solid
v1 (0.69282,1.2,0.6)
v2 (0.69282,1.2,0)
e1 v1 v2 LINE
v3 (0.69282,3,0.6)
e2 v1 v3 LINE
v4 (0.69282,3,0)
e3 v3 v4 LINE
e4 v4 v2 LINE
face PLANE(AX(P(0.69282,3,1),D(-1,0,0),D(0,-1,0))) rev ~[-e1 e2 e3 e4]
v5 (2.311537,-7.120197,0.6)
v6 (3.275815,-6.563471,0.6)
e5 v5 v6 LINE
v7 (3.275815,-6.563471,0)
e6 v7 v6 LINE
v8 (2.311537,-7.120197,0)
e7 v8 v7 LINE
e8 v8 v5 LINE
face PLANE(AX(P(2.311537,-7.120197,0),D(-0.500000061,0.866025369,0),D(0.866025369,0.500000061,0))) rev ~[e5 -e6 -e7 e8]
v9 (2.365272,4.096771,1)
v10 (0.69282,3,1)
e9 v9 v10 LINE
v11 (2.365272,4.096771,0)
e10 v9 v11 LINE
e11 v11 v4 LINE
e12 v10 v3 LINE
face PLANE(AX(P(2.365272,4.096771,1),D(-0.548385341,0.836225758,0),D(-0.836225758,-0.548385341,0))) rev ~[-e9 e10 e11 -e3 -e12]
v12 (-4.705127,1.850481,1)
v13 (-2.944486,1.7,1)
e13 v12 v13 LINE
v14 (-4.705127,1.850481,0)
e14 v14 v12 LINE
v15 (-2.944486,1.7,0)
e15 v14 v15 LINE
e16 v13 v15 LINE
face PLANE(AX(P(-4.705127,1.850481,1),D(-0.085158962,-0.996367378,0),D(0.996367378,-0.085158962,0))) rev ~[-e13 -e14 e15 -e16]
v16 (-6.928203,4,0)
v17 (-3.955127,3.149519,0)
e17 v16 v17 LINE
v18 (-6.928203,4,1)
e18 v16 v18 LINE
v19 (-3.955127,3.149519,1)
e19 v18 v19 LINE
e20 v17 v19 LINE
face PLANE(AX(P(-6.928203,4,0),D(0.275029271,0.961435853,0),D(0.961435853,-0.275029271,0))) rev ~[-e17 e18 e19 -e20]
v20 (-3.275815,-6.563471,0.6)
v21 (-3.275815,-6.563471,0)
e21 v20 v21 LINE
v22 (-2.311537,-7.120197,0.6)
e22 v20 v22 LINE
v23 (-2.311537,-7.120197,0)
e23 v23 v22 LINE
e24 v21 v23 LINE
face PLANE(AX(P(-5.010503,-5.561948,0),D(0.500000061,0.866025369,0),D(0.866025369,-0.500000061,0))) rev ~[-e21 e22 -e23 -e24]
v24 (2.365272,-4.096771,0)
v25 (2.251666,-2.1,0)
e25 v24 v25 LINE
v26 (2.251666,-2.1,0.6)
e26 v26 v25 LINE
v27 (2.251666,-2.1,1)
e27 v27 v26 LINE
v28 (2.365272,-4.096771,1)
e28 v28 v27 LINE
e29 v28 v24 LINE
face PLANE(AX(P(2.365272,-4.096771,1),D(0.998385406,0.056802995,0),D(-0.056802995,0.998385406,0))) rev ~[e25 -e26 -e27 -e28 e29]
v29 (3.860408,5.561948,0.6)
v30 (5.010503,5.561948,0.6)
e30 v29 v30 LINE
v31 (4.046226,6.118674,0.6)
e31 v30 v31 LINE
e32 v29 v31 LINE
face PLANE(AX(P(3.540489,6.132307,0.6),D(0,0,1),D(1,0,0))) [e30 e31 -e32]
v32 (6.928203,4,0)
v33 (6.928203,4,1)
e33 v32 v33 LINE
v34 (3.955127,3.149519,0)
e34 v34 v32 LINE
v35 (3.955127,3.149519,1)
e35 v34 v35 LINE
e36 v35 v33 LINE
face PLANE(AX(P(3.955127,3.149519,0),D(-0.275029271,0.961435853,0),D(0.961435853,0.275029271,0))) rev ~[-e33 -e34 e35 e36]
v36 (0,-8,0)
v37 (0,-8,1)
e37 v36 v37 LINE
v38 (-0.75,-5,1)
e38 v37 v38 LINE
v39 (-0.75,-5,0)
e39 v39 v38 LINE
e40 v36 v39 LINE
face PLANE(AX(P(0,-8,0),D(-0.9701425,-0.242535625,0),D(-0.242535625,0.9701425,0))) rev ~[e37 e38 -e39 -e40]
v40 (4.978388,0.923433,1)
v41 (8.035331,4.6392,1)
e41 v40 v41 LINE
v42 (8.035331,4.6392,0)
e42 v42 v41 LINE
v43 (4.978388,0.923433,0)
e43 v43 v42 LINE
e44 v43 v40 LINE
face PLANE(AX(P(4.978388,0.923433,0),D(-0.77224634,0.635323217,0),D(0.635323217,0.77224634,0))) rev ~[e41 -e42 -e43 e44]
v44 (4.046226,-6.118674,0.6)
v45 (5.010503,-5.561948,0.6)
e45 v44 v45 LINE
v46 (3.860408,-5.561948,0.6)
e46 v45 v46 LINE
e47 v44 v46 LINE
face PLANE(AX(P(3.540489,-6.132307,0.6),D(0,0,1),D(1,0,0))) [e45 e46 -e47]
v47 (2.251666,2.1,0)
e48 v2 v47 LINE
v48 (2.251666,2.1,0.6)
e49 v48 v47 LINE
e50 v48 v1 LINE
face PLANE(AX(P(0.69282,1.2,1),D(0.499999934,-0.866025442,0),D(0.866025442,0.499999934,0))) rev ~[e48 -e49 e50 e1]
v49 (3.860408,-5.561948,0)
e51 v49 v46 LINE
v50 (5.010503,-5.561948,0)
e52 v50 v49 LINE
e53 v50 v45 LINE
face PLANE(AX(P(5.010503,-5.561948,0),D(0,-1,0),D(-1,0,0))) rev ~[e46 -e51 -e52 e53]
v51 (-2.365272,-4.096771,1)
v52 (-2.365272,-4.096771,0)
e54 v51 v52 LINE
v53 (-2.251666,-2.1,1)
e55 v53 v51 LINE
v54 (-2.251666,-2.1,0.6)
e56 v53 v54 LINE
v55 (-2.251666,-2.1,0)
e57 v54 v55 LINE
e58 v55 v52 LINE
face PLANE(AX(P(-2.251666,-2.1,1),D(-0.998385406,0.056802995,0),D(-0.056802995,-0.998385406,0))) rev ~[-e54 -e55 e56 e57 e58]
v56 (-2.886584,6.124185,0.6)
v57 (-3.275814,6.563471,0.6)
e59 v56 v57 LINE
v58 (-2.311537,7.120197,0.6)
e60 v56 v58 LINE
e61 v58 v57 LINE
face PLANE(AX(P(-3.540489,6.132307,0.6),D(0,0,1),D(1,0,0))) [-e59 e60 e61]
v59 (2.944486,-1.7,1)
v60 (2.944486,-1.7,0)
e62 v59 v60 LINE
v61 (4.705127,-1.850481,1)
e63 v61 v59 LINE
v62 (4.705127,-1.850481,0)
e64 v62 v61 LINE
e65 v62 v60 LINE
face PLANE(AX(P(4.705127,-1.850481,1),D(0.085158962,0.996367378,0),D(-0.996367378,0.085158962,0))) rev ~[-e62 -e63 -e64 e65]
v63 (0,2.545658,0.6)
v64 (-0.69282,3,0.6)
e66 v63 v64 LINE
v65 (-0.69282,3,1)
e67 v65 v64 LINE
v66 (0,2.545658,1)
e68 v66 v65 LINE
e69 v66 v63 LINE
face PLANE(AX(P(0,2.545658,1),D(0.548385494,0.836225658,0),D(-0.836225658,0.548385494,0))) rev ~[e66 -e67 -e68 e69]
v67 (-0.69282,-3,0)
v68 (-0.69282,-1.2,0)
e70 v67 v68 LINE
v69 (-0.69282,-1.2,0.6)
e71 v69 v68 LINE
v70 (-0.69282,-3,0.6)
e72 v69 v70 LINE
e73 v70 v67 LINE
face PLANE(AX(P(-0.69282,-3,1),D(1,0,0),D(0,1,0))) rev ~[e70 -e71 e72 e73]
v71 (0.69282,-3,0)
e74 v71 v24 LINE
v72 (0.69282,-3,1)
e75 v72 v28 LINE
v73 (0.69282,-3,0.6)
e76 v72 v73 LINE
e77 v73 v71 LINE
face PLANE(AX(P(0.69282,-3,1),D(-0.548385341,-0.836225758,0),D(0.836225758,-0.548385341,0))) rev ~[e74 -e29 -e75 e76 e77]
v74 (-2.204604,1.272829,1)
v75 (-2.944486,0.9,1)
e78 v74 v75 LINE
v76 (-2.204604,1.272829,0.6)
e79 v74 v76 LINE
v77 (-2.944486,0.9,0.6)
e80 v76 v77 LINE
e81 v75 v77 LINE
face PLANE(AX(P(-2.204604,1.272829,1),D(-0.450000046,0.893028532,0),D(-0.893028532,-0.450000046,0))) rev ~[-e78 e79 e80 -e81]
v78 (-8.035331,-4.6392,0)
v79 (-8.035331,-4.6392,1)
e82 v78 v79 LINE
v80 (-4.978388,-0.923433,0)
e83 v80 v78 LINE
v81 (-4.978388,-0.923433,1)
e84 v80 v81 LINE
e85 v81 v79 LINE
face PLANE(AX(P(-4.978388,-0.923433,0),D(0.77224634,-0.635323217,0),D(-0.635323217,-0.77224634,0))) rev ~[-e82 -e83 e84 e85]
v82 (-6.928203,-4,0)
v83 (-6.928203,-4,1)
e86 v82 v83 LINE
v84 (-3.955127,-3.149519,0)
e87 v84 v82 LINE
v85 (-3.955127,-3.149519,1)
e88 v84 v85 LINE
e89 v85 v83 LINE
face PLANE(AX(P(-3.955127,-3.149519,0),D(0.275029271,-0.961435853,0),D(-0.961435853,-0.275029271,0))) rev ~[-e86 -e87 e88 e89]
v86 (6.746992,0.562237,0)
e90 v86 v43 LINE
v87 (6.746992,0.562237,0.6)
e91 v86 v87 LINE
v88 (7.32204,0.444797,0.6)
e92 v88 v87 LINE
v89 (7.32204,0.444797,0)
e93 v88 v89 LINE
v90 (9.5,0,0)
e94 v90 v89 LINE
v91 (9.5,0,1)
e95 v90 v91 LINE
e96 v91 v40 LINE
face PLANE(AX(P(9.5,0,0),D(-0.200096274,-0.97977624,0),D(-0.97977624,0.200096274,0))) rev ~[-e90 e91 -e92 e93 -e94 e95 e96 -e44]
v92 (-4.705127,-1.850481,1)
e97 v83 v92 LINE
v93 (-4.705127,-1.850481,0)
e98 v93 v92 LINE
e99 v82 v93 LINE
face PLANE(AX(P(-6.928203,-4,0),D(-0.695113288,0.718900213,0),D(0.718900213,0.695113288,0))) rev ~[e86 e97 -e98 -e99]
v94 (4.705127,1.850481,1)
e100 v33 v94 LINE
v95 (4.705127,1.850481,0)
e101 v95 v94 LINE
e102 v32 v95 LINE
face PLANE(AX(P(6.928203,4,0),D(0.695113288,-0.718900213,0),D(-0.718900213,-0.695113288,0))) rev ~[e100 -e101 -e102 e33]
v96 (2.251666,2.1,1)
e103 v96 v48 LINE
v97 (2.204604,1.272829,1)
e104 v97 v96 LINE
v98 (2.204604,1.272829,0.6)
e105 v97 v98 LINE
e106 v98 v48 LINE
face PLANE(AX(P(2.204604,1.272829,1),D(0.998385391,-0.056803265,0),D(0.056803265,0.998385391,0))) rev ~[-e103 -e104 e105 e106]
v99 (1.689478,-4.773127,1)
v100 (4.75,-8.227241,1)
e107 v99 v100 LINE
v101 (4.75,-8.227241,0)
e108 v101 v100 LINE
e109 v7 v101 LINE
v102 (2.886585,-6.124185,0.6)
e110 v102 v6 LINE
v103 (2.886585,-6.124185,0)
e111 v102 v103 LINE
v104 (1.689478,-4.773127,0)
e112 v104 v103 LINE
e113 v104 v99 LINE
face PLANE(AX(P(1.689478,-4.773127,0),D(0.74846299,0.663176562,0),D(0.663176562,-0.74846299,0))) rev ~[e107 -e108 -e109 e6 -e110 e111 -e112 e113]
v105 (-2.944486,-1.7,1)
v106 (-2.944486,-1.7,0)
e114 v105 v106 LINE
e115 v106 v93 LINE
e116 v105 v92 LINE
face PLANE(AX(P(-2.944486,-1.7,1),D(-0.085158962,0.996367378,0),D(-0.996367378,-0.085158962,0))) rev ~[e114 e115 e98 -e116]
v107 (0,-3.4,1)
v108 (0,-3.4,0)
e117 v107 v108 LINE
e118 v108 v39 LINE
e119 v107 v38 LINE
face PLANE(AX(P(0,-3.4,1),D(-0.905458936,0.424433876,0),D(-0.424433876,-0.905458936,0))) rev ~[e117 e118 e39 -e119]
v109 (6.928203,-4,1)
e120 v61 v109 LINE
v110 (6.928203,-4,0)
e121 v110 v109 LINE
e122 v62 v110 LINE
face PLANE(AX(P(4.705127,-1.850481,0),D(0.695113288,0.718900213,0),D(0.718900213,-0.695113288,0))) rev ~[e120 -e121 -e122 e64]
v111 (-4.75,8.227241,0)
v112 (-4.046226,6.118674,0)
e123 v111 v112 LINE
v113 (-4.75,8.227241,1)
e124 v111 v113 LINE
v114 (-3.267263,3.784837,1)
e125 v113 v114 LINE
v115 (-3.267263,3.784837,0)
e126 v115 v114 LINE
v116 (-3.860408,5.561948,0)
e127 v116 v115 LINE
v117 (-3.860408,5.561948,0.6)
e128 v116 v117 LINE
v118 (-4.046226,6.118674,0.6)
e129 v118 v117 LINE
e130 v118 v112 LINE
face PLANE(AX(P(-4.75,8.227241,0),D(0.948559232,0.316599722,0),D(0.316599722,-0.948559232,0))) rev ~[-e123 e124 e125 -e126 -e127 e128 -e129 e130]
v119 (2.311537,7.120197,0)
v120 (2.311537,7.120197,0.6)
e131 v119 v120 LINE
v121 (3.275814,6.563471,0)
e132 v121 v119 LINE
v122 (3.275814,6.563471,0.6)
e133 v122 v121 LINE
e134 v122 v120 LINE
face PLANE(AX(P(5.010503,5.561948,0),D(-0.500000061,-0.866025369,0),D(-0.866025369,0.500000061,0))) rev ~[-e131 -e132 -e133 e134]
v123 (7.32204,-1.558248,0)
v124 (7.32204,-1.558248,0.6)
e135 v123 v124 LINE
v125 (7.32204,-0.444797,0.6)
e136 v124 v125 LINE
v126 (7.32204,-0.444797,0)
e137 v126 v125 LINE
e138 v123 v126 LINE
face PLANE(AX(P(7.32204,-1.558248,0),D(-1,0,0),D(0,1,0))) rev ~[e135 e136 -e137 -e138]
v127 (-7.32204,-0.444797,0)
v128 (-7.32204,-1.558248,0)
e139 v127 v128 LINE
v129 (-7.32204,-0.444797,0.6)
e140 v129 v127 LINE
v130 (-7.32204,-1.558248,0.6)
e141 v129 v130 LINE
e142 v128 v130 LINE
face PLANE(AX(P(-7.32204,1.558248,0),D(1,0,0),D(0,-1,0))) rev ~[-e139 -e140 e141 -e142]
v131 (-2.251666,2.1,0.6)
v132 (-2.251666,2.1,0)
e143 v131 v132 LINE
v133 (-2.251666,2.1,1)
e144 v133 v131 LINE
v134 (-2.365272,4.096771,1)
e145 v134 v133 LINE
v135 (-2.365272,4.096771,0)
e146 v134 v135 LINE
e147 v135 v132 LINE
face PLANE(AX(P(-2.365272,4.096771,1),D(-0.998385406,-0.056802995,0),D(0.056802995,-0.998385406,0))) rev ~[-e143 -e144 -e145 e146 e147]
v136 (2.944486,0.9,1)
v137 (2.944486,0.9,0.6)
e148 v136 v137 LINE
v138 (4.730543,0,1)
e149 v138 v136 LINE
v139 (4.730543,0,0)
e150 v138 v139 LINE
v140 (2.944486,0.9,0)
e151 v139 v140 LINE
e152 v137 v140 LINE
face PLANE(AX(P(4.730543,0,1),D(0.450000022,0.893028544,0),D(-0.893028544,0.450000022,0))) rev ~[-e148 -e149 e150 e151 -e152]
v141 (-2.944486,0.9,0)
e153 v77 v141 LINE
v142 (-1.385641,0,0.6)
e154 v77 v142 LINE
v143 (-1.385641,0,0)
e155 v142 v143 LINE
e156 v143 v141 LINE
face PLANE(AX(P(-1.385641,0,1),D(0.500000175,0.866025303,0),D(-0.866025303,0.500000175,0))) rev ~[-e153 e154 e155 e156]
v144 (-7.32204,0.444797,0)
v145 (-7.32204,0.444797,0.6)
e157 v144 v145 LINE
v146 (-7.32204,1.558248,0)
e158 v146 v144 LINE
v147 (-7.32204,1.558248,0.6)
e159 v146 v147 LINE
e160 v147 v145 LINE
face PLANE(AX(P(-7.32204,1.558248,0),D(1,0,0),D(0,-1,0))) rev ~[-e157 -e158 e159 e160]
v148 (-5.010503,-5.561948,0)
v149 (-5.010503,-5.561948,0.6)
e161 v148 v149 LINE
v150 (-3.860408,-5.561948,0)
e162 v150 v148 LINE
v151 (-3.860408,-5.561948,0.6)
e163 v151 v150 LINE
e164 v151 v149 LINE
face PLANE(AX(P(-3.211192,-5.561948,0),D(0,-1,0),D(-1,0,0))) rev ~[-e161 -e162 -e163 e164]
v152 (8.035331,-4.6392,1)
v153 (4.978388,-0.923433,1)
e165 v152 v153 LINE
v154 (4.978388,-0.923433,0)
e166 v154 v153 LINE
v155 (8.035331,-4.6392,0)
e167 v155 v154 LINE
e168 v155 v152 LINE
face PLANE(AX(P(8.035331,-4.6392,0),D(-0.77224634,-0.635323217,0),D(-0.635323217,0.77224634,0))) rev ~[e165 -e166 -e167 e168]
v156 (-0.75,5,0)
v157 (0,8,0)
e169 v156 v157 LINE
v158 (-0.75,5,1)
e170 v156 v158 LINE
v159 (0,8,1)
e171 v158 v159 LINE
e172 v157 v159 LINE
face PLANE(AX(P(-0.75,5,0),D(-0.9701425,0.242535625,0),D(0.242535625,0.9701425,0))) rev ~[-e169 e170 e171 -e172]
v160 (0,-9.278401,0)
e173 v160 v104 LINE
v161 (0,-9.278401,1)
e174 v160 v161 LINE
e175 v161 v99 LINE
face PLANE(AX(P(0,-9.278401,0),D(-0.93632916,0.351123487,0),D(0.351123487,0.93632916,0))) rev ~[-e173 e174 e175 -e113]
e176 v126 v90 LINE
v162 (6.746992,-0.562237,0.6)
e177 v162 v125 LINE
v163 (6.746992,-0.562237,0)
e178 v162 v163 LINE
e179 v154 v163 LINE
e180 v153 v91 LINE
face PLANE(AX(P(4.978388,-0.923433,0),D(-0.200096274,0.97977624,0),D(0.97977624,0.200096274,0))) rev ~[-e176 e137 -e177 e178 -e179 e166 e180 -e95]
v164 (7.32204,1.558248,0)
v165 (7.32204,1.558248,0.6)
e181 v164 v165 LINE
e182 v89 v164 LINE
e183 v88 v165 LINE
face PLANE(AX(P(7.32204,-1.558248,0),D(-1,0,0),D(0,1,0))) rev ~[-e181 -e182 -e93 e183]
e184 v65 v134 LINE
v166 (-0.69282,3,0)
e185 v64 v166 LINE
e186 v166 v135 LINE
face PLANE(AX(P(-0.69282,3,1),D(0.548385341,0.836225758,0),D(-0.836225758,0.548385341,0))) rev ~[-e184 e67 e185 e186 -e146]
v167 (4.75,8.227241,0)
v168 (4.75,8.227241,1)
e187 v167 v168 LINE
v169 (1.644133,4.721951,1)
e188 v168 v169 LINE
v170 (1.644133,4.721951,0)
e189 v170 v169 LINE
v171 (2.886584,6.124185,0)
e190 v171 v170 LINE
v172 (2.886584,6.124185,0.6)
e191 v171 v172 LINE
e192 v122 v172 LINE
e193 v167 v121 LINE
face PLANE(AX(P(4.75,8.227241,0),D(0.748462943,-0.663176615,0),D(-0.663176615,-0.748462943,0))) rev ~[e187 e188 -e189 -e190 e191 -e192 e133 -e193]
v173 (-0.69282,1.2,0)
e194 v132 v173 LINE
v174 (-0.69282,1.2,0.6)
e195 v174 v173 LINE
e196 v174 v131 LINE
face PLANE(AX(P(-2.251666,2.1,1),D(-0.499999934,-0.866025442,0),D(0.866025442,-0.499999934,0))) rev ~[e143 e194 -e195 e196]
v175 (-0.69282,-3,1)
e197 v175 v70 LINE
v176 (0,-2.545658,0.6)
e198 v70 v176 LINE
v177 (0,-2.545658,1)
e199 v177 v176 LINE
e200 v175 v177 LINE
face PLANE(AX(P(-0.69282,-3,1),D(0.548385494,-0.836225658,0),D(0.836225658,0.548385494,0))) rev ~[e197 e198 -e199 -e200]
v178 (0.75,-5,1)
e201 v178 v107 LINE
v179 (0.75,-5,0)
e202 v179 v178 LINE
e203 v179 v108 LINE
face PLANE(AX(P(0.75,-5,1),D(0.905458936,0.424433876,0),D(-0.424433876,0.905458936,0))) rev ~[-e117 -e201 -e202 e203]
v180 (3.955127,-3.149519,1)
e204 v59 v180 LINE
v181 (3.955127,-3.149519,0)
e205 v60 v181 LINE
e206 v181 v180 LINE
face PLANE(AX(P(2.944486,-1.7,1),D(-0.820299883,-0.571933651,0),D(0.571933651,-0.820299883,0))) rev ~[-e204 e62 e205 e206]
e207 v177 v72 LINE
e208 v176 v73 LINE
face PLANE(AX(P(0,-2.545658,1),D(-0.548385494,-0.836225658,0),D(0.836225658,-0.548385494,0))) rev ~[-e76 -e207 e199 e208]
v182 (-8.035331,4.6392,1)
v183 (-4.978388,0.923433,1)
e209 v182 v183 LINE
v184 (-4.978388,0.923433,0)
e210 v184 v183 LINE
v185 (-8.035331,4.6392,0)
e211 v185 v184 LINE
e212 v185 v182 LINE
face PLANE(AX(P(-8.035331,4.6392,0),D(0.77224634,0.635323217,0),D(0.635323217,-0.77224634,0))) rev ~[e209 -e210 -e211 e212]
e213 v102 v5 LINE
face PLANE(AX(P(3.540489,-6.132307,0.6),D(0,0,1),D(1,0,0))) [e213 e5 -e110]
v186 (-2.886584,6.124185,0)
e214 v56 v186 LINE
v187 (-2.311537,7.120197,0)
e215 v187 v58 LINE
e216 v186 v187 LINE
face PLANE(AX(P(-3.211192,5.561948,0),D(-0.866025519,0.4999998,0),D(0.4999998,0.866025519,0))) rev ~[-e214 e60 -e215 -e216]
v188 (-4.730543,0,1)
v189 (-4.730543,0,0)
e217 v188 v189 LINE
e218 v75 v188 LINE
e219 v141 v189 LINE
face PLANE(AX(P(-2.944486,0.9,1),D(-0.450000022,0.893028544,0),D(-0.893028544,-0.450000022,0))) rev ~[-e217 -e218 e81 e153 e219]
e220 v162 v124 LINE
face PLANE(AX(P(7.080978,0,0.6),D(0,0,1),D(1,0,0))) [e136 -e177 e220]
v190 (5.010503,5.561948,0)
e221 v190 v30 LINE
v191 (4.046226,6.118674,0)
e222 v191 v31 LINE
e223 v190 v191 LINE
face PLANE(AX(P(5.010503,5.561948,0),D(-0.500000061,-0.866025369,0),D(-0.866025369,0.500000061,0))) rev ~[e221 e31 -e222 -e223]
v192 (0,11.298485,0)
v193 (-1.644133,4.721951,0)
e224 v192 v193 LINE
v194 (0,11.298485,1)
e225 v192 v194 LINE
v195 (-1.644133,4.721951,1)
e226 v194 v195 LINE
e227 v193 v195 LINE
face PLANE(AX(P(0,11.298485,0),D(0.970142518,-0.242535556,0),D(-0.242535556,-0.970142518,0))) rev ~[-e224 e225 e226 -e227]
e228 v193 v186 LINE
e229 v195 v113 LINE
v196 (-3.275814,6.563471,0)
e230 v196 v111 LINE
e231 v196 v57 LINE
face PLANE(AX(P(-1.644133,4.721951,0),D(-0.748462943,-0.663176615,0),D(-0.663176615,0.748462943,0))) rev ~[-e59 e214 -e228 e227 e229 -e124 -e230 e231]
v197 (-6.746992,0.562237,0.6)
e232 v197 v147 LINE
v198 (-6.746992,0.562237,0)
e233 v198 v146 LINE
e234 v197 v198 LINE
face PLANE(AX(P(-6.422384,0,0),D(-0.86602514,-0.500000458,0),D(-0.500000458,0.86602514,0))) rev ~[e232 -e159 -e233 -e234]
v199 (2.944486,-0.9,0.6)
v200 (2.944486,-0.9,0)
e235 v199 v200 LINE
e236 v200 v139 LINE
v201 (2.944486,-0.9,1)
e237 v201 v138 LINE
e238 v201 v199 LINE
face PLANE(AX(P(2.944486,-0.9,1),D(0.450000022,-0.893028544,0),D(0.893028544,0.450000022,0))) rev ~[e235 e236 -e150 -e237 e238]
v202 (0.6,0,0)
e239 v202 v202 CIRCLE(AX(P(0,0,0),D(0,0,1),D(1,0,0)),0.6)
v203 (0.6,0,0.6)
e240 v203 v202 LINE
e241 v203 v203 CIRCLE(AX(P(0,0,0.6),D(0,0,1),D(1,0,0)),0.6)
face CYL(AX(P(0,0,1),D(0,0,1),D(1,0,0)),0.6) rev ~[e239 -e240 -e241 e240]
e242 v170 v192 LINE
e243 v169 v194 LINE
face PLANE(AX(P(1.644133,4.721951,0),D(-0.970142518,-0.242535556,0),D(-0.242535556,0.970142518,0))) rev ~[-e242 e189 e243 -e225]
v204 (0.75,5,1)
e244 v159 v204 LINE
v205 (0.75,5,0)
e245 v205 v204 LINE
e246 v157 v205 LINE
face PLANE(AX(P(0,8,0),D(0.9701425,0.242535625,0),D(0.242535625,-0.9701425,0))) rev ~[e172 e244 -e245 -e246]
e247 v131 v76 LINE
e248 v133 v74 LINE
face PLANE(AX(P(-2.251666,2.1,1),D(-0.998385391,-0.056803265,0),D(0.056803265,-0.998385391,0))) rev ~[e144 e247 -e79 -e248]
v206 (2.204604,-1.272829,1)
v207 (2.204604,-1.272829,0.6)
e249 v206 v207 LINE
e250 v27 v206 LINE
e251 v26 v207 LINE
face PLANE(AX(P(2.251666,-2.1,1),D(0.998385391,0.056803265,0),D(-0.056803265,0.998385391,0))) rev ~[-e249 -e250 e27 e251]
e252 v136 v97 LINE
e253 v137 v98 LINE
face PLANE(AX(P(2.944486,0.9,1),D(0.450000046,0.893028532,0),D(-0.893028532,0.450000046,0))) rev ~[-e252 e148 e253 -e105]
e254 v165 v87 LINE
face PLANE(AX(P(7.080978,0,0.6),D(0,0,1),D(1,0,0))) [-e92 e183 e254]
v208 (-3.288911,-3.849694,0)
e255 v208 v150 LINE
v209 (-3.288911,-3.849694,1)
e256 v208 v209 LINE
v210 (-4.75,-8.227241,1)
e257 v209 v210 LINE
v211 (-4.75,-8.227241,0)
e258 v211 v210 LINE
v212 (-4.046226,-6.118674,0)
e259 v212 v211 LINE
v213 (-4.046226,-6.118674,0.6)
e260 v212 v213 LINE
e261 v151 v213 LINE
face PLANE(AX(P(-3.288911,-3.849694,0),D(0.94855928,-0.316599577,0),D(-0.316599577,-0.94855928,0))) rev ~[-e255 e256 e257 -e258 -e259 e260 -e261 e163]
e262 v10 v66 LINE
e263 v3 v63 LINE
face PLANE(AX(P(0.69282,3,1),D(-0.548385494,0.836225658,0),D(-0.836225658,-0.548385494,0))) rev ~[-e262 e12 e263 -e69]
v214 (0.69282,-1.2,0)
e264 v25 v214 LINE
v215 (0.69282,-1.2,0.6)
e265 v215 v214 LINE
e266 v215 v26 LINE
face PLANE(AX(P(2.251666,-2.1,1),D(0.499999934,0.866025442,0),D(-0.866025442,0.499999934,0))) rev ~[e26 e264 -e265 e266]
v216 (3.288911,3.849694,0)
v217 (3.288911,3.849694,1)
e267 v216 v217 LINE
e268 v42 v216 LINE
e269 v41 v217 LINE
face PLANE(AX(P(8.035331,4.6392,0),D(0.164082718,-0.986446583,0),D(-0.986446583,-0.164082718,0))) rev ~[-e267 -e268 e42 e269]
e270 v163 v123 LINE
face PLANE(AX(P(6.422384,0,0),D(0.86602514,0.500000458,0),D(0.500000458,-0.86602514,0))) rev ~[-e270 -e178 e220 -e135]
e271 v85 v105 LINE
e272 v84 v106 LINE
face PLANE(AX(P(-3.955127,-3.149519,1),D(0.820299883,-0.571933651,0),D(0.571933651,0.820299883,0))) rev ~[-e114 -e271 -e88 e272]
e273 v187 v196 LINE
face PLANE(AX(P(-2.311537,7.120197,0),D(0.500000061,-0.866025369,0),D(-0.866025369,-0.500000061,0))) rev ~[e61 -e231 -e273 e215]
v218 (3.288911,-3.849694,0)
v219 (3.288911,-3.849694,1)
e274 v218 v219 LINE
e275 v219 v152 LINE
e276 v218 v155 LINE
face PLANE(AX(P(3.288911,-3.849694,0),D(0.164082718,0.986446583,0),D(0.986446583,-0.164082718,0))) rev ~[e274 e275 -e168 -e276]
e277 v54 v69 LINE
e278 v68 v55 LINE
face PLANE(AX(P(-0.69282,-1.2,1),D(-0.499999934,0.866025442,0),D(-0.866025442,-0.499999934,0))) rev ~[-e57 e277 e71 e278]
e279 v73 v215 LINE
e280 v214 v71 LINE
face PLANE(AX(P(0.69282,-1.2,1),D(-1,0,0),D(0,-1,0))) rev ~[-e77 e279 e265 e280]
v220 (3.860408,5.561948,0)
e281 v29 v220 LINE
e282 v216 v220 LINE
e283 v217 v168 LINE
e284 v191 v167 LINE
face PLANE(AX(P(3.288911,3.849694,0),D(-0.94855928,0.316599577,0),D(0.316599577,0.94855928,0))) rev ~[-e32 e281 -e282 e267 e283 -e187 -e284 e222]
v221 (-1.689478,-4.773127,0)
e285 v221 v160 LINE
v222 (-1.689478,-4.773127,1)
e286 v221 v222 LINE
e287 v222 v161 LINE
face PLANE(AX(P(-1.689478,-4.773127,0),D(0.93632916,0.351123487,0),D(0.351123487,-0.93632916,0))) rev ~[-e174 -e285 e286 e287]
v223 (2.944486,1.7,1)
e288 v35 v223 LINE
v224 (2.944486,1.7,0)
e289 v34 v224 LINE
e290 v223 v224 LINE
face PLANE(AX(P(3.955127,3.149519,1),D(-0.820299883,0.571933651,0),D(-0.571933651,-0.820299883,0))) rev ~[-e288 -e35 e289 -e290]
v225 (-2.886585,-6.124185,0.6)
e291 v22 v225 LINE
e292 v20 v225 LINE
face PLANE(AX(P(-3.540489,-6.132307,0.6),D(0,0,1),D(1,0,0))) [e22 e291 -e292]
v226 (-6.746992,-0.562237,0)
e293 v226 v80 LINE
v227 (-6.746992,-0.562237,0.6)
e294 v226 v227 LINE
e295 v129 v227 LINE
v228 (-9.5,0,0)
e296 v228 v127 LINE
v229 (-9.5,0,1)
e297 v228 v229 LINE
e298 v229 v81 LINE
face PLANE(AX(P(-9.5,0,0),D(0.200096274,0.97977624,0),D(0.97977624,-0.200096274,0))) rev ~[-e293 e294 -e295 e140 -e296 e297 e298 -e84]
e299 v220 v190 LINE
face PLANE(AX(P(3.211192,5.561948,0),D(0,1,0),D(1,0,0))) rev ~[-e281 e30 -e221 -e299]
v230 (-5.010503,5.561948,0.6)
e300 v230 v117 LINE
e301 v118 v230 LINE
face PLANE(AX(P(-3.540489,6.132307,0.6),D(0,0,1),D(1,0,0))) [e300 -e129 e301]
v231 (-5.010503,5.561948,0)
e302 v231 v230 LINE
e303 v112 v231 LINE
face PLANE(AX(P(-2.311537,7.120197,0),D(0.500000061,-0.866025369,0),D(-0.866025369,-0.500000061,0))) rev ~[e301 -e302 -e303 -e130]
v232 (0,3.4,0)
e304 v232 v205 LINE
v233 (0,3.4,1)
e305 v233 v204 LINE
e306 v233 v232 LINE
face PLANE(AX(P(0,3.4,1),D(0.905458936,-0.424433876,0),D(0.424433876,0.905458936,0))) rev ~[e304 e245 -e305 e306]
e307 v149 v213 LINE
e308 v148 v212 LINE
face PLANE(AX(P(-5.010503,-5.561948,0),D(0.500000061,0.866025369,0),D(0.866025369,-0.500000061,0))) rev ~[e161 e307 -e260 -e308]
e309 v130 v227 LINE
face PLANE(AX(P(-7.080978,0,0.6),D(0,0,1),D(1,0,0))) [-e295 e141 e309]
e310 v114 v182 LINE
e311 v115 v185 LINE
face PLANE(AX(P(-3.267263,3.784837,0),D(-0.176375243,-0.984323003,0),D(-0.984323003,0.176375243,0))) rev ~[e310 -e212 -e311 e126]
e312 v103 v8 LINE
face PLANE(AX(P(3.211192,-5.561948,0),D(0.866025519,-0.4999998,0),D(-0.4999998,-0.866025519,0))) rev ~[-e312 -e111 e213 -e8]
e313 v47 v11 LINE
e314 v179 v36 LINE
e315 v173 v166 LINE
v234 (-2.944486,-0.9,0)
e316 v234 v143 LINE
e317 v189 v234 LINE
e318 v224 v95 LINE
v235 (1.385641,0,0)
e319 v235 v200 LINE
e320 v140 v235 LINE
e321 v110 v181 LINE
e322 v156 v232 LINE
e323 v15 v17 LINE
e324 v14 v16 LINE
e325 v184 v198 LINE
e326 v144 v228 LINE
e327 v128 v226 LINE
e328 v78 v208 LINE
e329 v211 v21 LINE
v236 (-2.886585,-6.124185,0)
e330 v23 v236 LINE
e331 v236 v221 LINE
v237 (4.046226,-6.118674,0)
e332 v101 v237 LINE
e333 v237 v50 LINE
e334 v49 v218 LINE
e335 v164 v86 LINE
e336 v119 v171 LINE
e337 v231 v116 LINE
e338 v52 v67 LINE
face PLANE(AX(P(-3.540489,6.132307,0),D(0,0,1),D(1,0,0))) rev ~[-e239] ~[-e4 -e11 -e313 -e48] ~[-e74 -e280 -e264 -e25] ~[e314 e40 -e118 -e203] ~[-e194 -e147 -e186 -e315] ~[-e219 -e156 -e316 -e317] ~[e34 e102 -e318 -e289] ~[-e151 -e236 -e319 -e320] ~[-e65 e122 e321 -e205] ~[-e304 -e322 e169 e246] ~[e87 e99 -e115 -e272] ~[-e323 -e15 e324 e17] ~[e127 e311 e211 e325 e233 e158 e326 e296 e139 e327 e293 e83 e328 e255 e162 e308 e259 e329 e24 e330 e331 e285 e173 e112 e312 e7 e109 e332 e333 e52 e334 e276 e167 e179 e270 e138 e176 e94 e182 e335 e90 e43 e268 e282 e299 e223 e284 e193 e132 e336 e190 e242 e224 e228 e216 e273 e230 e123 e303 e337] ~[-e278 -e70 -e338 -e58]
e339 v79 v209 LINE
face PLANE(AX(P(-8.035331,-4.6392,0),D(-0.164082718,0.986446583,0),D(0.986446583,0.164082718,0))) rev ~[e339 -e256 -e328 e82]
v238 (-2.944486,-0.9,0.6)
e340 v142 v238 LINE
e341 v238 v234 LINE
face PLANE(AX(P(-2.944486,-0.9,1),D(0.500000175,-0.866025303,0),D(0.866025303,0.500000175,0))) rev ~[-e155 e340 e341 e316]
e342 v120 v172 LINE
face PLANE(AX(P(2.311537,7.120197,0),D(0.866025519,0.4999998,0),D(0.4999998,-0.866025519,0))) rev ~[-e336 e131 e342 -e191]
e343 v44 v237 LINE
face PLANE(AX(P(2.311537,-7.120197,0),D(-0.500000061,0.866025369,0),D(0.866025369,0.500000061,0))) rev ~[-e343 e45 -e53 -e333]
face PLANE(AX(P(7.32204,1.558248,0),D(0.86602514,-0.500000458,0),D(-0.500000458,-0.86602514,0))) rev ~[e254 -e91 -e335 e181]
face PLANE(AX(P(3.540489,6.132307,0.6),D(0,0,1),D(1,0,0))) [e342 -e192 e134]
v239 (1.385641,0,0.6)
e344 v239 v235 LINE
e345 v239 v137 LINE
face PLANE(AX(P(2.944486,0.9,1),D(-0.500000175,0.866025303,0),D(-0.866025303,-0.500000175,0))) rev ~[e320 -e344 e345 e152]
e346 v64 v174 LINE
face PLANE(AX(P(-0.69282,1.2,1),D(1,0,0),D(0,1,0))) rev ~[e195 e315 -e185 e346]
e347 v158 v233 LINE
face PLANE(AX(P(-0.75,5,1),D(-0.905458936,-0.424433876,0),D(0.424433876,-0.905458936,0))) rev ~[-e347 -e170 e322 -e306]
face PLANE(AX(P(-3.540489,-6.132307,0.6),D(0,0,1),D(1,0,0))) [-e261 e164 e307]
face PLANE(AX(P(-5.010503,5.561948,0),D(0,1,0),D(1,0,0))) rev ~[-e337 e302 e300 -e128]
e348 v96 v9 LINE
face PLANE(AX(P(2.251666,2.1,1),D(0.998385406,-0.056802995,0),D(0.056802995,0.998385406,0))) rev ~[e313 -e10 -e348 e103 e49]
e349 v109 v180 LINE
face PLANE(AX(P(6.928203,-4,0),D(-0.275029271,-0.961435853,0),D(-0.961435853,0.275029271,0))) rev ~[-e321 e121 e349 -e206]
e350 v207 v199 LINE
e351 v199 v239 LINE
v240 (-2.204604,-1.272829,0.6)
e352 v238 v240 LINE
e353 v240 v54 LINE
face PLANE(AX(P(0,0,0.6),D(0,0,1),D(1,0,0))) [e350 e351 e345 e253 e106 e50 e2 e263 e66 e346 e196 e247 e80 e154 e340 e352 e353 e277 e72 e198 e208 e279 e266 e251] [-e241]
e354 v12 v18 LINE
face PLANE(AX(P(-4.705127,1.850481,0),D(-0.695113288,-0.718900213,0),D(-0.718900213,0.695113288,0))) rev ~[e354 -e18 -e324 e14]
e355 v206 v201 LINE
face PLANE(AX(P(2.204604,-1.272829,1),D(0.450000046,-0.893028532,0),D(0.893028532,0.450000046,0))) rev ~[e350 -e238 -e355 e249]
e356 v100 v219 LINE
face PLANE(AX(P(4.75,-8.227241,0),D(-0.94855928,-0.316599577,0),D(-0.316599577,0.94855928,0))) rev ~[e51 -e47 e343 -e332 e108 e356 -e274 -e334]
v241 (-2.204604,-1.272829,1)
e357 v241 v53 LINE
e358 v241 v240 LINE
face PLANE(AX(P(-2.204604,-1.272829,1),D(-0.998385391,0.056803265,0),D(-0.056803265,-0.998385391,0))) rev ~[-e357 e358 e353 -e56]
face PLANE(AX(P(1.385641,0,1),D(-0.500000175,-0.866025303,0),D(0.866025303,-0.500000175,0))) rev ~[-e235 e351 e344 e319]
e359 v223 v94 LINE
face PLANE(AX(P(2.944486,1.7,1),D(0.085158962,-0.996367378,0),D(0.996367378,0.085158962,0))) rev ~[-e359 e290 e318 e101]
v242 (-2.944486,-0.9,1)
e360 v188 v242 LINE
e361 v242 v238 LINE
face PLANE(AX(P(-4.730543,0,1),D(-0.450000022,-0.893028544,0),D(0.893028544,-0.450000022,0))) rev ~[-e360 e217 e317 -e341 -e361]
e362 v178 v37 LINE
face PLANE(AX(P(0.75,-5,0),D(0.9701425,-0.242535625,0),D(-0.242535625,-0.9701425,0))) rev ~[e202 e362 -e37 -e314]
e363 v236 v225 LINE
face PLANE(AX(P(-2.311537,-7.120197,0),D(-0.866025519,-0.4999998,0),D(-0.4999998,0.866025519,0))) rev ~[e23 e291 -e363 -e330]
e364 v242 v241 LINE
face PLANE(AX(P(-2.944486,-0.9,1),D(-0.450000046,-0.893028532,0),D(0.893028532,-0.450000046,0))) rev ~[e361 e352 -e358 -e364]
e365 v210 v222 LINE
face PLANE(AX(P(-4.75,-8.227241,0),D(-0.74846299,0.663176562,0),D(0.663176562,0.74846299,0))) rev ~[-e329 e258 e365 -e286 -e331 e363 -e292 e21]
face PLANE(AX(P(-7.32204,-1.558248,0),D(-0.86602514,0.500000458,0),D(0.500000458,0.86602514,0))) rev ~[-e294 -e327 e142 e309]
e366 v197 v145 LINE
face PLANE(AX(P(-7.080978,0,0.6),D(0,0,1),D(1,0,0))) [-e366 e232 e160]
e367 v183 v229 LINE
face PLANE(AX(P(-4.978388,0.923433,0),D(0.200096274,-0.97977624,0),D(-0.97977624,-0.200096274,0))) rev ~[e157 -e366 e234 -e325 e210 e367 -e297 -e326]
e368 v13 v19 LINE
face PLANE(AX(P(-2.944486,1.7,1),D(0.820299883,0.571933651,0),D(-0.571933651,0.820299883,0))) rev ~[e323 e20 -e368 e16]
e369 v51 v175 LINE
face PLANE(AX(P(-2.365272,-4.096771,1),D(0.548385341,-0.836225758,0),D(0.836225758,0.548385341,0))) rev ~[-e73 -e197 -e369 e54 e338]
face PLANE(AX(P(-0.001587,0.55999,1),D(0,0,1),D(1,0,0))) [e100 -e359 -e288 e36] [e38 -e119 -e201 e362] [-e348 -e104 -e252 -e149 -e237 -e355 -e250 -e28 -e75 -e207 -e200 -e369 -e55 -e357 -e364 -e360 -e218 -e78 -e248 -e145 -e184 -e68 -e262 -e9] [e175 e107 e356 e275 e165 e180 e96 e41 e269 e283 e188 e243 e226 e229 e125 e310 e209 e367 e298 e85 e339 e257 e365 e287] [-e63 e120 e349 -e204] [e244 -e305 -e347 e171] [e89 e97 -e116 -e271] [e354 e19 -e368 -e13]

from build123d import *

# Parameters (mm, degrees)
F1_DEPTH = 1
F2_R     = 0.6
F3_DEPTH = 25
F5_DEPTH = 0.4
F7_DEPTH = 0.6


with BuildPart() as f1:
    # F0 (on Top) → F1 (new body)
    with BuildSketch(Plane.XY):
        with BuildLine():
            Line((0, 11.298485), (-1.644133, 4.721951))
            ThreePointArc((-1.644133, 4.721951), (-2.5, 4.330127), (-3.267263, 3.784837))
            Line((-3.267263, 3.784837), (-8.035331, 4.6392))
            Line((-8.035331, 4.6392), (-4.978388, 0.923433))
            Line((-4.978388, 0.923433), (-4.92561, 0.859281))
            ThreePointArc((-4.92561, 0.859281), (-5, 0), (-4.92561, -0.859281))
            Line((-4.92561, -0.859281), (-4.978388, -0.923433))
            Line((-4.978388, -0.923433), (-8.035331, -4.6392))
            Line((-8.035331, -4.6392), (-3.288911, -3.849694))
            Line((-3.288911, -3.849694), (-3.206964, -3.836063))
            ThreePointArc((-3.206964, -3.836063), (-2.5, -4.330127), (-1.718646, -4.695344))
            Line((-1.718646, -4.695344), (-1.689478, -4.773127))
            Line((-1.689478, -4.773127), (0, -9.278401))
            Line((0, -9.278401), (1.689478, -4.773127))
            Line((1.689478, -4.773127), (1.718646, -4.695344))
            ThreePointArc((1.718646, -4.695344), (2.5, -4.330127), (3.206964, -3.836063))
            Line((3.206964, -3.836063), (3.288911, -3.849694))
            Line((3.288911, -3.849694), (8.035331, -4.6392))
            Line((8.035331, -4.6392), (4.978388, -0.923433))
            Line((4.978388, -0.923433), (4.92561, -0.859281))
            ThreePointArc((4.92561, -0.859281), (5, 0), (4.92561, 0.859281))
            Line((4.92561, 0.859281), (4.978388, 0.923433))
            Line((4.978388, 0.923433), (8.035331, 4.6392))
            Line((8.035331, 4.6392), (3.288911, 3.849694))
            Line((3.288911, 3.849694), (3.206964, 3.836063))
            ThreePointArc((3.206964, 3.836063), (2.465661, 4.349772), (1.644133, 4.721951))
            Line((1.644133, 4.721951), (0, 11.298485))
        make_face()
        Polygon((-4.705127, -1.850481), (-3.955127, -3.149519), (-6.928203, -4), align=None, mode=Mode.SUBTRACT)
        Polygon((-0.75, -5), (0.75, -5), (0, -8), align=None, mode=Mode.SUBTRACT)
        Polygon((3.955127, -3.149519), (4.705127, -1.850481), (6.928203, -4), align=None, mode=Mode.SUBTRACT)
        Polygon((-3.955127, 3.149519), (-4.705127, 1.850481), (-6.928203, 4), align=None, mode=Mode.SUBTRACT)
        Polygon((4.705127, 1.850481), (3.955127, 3.149519), (6.928203, 4), align=None, mode=Mode.SUBTRACT)
        Polygon((-0.75, 5), (0, 8), (0.75, 5), align=None, mode=Mode.SUBTRACT)
        with BuildLine():
            ThreePointArc((-3.267263, 3.784837), (-2.5, 4.330127), (-1.644133, 4.721951))
            Line((-1.644133, 4.721951), (-4.75, 8.227241))
            Line((-4.75, 8.227241), (-3.267263, 3.784837))
        make_face()
        with BuildLine():
            Line((4.75, 8.227241), (1.644133, 4.721951))
            ThreePointArc((1.644133, 4.721951), (2.465661, 4.349772), (3.206964, 3.836063))
            Line((3.206964, 3.836063), (3.288911, 3.849694))
            Line((3.288911, 3.849694), (4.75, 8.227241))
        make_face()
        with BuildLine():
            Line((-4.92561, 0.859281), (-4.978388, 0.923433))
            Line((-4.978388, 0.923433), (-9.5, 0))
            Line((-9.5, 0), (-4.978388, -0.923433))
            Line((-4.978388, -0.923433), (-4.92561, -0.859281))
            ThreePointArc((-4.92561, -0.859281), (-5, 0), (-4.92561, 0.859281))
        make_face()
        with BuildLine():
            Line((9.5, 0), (4.978388, 0.923433))
            Line((4.978388, 0.923433), (4.92561, 0.859281))
            ThreePointArc((4.92561, 0.859281), (5, 0), (4.92561, -0.859281))
            Line((4.92561, -0.859281), (4.978388, -0.923433))
            Line((4.978388, -0.923433), (9.5, 0))
        make_face()
        with BuildLine():
            Line((-3.206964, -3.836063), (-3.288911, -3.849694))
            Line((-3.288911, -3.849694), (-4.75, -8.227241))
            Line((-4.75, -8.227241), (-1.689478, -4.773127))
            Line((-1.689478, -4.773127), (-1.718646, -4.695344))
            ThreePointArc((-1.718646, -4.695344), (-2.5, -4.330127), (-3.206964, -3.836063))
        make_face()
        with BuildLine():
            Line((4.75, -8.227241), (3.288911, -3.849694))
            Line((3.288911, -3.849694), (3.206964, -3.836063))
            ThreePointArc((3.206964, -3.836063), (2.5, -4.330127), (1.718646, -4.695344))
            Line((1.718646, -4.695344), (1.689478, -4.773127))
            Line((1.689478, -4.773127), (4.75, -8.227241))
        make_face()
    extrude(amount=F1_DEPTH)

    # F2 (on face) → F3 (cut)
    with BuildSketch(Plane.XY.offset(1)):
        Polygon((0.75, 5), (-0.75, 5), (0, 3.4), align=None)
        Polygon((2.365272, 4.096771), (0.69282, 3), (0.69282, 1.2), (2.251666, 2.1), align=None)
        Polygon((-2.944486, 1.7), (-3.955127, 3.149519), (-4.705127, 1.850481), align=None)
        Polygon((-0.69282, 3), (-2.365272, 4.096771), (-2.251666, 2.1), (-0.69282, 1.2), align=None)
        Polygon((-2.944486, -1.7), (-4.705127, -1.850481), (-3.955127, -3.149519), align=None)
        Polygon((-2.944486, 0.9), (-4.730543, 0), (-2.944486, -0.9), (-1.385641, 0), align=None)
        Polygon((0, -3.4), (-0.75, -5), (0.75, -5), align=None)
        Polygon((-2.251666, -2.1), (-2.365272, -4.096771), (-0.69282, -3), (-0.69282, -1.2), align=None)
        Polygon((2.944486, -1.7), (3.955127, -3.149519), (4.705127, -1.850481), align=None)
        Polygon((0.69282, -3), (2.365272, -4.096771), (2.251666, -2.1), (0.69282, -1.2), align=None)
        Polygon((2.944486, 1.7), (4.705127, 1.850481), (3.955127, 3.149519), align=None)
        Polygon((2.944486, -0.9), (4.730543, 0), (2.944486, 0.9), (1.385641, 0), align=None)
        Circle(F2_R)
    extrude(amount=-F3_DEPTH, mode=Mode.SUBTRACT)

    # F4 (on face) → F5 (cut)
    with BuildSketch(Plane.XY.offset(1)):
        Polygon((0, 2.545658), (-0.69282, 3), (-0.69282, 1.2), (-2.251666, 2.1), (-2.204604, 1.272829), (-2.944486, 0.9), (-1.385641, 0), (-2.944486, -0.9), (-2.204604, -1.272829), (-2.251666, -2.1), (-0.69282, -1.2), (-0.69282, -3), (0, -2.545658), (0.69282, -3), (0.69282, -1.2), (2.251666, -2.1), (2.204604, -1.272829), (2.944486, -0.9), (1.385641, 0), (2.944486, 0.9), (2.204604, 1.272829), (2.251666, 2.1), (0.69282, 1.2), (0.69282, 3), align=None)
    extrude(amount=-F5_DEPTH, mode=Mode.SUBTRACT)

    # F6 (on Top) → F7 (join)
    with BuildSketch(Plane.XY):
        Polygon((-2.311537, 7.120197), (-5.010503, 5.561948), (-3.211192, 5.561948), align=None)
        Polygon((-7.32204, 1.558248), (-7.32204, -1.558248), (-6.422384, 0), align=None)
        Polygon((-5.010503, -5.561948), (-2.311537, -7.120197), (-3.211192, -5.561948), align=None)
        Polygon((2.311537, -7.120197), (5.010503, -5.561948), (3.211192, -5.561948), align=None)
        Polygon((7.32204, -1.558248), (7.32204, 1.558248), (6.422384, 0), align=None)
        Polygon((5.010503, 5.561948), (2.311537, 7.120197), (3.211192, 5.561948), align=None)
    extrude(amount=F7_DEPTH)


solid = f1.part
